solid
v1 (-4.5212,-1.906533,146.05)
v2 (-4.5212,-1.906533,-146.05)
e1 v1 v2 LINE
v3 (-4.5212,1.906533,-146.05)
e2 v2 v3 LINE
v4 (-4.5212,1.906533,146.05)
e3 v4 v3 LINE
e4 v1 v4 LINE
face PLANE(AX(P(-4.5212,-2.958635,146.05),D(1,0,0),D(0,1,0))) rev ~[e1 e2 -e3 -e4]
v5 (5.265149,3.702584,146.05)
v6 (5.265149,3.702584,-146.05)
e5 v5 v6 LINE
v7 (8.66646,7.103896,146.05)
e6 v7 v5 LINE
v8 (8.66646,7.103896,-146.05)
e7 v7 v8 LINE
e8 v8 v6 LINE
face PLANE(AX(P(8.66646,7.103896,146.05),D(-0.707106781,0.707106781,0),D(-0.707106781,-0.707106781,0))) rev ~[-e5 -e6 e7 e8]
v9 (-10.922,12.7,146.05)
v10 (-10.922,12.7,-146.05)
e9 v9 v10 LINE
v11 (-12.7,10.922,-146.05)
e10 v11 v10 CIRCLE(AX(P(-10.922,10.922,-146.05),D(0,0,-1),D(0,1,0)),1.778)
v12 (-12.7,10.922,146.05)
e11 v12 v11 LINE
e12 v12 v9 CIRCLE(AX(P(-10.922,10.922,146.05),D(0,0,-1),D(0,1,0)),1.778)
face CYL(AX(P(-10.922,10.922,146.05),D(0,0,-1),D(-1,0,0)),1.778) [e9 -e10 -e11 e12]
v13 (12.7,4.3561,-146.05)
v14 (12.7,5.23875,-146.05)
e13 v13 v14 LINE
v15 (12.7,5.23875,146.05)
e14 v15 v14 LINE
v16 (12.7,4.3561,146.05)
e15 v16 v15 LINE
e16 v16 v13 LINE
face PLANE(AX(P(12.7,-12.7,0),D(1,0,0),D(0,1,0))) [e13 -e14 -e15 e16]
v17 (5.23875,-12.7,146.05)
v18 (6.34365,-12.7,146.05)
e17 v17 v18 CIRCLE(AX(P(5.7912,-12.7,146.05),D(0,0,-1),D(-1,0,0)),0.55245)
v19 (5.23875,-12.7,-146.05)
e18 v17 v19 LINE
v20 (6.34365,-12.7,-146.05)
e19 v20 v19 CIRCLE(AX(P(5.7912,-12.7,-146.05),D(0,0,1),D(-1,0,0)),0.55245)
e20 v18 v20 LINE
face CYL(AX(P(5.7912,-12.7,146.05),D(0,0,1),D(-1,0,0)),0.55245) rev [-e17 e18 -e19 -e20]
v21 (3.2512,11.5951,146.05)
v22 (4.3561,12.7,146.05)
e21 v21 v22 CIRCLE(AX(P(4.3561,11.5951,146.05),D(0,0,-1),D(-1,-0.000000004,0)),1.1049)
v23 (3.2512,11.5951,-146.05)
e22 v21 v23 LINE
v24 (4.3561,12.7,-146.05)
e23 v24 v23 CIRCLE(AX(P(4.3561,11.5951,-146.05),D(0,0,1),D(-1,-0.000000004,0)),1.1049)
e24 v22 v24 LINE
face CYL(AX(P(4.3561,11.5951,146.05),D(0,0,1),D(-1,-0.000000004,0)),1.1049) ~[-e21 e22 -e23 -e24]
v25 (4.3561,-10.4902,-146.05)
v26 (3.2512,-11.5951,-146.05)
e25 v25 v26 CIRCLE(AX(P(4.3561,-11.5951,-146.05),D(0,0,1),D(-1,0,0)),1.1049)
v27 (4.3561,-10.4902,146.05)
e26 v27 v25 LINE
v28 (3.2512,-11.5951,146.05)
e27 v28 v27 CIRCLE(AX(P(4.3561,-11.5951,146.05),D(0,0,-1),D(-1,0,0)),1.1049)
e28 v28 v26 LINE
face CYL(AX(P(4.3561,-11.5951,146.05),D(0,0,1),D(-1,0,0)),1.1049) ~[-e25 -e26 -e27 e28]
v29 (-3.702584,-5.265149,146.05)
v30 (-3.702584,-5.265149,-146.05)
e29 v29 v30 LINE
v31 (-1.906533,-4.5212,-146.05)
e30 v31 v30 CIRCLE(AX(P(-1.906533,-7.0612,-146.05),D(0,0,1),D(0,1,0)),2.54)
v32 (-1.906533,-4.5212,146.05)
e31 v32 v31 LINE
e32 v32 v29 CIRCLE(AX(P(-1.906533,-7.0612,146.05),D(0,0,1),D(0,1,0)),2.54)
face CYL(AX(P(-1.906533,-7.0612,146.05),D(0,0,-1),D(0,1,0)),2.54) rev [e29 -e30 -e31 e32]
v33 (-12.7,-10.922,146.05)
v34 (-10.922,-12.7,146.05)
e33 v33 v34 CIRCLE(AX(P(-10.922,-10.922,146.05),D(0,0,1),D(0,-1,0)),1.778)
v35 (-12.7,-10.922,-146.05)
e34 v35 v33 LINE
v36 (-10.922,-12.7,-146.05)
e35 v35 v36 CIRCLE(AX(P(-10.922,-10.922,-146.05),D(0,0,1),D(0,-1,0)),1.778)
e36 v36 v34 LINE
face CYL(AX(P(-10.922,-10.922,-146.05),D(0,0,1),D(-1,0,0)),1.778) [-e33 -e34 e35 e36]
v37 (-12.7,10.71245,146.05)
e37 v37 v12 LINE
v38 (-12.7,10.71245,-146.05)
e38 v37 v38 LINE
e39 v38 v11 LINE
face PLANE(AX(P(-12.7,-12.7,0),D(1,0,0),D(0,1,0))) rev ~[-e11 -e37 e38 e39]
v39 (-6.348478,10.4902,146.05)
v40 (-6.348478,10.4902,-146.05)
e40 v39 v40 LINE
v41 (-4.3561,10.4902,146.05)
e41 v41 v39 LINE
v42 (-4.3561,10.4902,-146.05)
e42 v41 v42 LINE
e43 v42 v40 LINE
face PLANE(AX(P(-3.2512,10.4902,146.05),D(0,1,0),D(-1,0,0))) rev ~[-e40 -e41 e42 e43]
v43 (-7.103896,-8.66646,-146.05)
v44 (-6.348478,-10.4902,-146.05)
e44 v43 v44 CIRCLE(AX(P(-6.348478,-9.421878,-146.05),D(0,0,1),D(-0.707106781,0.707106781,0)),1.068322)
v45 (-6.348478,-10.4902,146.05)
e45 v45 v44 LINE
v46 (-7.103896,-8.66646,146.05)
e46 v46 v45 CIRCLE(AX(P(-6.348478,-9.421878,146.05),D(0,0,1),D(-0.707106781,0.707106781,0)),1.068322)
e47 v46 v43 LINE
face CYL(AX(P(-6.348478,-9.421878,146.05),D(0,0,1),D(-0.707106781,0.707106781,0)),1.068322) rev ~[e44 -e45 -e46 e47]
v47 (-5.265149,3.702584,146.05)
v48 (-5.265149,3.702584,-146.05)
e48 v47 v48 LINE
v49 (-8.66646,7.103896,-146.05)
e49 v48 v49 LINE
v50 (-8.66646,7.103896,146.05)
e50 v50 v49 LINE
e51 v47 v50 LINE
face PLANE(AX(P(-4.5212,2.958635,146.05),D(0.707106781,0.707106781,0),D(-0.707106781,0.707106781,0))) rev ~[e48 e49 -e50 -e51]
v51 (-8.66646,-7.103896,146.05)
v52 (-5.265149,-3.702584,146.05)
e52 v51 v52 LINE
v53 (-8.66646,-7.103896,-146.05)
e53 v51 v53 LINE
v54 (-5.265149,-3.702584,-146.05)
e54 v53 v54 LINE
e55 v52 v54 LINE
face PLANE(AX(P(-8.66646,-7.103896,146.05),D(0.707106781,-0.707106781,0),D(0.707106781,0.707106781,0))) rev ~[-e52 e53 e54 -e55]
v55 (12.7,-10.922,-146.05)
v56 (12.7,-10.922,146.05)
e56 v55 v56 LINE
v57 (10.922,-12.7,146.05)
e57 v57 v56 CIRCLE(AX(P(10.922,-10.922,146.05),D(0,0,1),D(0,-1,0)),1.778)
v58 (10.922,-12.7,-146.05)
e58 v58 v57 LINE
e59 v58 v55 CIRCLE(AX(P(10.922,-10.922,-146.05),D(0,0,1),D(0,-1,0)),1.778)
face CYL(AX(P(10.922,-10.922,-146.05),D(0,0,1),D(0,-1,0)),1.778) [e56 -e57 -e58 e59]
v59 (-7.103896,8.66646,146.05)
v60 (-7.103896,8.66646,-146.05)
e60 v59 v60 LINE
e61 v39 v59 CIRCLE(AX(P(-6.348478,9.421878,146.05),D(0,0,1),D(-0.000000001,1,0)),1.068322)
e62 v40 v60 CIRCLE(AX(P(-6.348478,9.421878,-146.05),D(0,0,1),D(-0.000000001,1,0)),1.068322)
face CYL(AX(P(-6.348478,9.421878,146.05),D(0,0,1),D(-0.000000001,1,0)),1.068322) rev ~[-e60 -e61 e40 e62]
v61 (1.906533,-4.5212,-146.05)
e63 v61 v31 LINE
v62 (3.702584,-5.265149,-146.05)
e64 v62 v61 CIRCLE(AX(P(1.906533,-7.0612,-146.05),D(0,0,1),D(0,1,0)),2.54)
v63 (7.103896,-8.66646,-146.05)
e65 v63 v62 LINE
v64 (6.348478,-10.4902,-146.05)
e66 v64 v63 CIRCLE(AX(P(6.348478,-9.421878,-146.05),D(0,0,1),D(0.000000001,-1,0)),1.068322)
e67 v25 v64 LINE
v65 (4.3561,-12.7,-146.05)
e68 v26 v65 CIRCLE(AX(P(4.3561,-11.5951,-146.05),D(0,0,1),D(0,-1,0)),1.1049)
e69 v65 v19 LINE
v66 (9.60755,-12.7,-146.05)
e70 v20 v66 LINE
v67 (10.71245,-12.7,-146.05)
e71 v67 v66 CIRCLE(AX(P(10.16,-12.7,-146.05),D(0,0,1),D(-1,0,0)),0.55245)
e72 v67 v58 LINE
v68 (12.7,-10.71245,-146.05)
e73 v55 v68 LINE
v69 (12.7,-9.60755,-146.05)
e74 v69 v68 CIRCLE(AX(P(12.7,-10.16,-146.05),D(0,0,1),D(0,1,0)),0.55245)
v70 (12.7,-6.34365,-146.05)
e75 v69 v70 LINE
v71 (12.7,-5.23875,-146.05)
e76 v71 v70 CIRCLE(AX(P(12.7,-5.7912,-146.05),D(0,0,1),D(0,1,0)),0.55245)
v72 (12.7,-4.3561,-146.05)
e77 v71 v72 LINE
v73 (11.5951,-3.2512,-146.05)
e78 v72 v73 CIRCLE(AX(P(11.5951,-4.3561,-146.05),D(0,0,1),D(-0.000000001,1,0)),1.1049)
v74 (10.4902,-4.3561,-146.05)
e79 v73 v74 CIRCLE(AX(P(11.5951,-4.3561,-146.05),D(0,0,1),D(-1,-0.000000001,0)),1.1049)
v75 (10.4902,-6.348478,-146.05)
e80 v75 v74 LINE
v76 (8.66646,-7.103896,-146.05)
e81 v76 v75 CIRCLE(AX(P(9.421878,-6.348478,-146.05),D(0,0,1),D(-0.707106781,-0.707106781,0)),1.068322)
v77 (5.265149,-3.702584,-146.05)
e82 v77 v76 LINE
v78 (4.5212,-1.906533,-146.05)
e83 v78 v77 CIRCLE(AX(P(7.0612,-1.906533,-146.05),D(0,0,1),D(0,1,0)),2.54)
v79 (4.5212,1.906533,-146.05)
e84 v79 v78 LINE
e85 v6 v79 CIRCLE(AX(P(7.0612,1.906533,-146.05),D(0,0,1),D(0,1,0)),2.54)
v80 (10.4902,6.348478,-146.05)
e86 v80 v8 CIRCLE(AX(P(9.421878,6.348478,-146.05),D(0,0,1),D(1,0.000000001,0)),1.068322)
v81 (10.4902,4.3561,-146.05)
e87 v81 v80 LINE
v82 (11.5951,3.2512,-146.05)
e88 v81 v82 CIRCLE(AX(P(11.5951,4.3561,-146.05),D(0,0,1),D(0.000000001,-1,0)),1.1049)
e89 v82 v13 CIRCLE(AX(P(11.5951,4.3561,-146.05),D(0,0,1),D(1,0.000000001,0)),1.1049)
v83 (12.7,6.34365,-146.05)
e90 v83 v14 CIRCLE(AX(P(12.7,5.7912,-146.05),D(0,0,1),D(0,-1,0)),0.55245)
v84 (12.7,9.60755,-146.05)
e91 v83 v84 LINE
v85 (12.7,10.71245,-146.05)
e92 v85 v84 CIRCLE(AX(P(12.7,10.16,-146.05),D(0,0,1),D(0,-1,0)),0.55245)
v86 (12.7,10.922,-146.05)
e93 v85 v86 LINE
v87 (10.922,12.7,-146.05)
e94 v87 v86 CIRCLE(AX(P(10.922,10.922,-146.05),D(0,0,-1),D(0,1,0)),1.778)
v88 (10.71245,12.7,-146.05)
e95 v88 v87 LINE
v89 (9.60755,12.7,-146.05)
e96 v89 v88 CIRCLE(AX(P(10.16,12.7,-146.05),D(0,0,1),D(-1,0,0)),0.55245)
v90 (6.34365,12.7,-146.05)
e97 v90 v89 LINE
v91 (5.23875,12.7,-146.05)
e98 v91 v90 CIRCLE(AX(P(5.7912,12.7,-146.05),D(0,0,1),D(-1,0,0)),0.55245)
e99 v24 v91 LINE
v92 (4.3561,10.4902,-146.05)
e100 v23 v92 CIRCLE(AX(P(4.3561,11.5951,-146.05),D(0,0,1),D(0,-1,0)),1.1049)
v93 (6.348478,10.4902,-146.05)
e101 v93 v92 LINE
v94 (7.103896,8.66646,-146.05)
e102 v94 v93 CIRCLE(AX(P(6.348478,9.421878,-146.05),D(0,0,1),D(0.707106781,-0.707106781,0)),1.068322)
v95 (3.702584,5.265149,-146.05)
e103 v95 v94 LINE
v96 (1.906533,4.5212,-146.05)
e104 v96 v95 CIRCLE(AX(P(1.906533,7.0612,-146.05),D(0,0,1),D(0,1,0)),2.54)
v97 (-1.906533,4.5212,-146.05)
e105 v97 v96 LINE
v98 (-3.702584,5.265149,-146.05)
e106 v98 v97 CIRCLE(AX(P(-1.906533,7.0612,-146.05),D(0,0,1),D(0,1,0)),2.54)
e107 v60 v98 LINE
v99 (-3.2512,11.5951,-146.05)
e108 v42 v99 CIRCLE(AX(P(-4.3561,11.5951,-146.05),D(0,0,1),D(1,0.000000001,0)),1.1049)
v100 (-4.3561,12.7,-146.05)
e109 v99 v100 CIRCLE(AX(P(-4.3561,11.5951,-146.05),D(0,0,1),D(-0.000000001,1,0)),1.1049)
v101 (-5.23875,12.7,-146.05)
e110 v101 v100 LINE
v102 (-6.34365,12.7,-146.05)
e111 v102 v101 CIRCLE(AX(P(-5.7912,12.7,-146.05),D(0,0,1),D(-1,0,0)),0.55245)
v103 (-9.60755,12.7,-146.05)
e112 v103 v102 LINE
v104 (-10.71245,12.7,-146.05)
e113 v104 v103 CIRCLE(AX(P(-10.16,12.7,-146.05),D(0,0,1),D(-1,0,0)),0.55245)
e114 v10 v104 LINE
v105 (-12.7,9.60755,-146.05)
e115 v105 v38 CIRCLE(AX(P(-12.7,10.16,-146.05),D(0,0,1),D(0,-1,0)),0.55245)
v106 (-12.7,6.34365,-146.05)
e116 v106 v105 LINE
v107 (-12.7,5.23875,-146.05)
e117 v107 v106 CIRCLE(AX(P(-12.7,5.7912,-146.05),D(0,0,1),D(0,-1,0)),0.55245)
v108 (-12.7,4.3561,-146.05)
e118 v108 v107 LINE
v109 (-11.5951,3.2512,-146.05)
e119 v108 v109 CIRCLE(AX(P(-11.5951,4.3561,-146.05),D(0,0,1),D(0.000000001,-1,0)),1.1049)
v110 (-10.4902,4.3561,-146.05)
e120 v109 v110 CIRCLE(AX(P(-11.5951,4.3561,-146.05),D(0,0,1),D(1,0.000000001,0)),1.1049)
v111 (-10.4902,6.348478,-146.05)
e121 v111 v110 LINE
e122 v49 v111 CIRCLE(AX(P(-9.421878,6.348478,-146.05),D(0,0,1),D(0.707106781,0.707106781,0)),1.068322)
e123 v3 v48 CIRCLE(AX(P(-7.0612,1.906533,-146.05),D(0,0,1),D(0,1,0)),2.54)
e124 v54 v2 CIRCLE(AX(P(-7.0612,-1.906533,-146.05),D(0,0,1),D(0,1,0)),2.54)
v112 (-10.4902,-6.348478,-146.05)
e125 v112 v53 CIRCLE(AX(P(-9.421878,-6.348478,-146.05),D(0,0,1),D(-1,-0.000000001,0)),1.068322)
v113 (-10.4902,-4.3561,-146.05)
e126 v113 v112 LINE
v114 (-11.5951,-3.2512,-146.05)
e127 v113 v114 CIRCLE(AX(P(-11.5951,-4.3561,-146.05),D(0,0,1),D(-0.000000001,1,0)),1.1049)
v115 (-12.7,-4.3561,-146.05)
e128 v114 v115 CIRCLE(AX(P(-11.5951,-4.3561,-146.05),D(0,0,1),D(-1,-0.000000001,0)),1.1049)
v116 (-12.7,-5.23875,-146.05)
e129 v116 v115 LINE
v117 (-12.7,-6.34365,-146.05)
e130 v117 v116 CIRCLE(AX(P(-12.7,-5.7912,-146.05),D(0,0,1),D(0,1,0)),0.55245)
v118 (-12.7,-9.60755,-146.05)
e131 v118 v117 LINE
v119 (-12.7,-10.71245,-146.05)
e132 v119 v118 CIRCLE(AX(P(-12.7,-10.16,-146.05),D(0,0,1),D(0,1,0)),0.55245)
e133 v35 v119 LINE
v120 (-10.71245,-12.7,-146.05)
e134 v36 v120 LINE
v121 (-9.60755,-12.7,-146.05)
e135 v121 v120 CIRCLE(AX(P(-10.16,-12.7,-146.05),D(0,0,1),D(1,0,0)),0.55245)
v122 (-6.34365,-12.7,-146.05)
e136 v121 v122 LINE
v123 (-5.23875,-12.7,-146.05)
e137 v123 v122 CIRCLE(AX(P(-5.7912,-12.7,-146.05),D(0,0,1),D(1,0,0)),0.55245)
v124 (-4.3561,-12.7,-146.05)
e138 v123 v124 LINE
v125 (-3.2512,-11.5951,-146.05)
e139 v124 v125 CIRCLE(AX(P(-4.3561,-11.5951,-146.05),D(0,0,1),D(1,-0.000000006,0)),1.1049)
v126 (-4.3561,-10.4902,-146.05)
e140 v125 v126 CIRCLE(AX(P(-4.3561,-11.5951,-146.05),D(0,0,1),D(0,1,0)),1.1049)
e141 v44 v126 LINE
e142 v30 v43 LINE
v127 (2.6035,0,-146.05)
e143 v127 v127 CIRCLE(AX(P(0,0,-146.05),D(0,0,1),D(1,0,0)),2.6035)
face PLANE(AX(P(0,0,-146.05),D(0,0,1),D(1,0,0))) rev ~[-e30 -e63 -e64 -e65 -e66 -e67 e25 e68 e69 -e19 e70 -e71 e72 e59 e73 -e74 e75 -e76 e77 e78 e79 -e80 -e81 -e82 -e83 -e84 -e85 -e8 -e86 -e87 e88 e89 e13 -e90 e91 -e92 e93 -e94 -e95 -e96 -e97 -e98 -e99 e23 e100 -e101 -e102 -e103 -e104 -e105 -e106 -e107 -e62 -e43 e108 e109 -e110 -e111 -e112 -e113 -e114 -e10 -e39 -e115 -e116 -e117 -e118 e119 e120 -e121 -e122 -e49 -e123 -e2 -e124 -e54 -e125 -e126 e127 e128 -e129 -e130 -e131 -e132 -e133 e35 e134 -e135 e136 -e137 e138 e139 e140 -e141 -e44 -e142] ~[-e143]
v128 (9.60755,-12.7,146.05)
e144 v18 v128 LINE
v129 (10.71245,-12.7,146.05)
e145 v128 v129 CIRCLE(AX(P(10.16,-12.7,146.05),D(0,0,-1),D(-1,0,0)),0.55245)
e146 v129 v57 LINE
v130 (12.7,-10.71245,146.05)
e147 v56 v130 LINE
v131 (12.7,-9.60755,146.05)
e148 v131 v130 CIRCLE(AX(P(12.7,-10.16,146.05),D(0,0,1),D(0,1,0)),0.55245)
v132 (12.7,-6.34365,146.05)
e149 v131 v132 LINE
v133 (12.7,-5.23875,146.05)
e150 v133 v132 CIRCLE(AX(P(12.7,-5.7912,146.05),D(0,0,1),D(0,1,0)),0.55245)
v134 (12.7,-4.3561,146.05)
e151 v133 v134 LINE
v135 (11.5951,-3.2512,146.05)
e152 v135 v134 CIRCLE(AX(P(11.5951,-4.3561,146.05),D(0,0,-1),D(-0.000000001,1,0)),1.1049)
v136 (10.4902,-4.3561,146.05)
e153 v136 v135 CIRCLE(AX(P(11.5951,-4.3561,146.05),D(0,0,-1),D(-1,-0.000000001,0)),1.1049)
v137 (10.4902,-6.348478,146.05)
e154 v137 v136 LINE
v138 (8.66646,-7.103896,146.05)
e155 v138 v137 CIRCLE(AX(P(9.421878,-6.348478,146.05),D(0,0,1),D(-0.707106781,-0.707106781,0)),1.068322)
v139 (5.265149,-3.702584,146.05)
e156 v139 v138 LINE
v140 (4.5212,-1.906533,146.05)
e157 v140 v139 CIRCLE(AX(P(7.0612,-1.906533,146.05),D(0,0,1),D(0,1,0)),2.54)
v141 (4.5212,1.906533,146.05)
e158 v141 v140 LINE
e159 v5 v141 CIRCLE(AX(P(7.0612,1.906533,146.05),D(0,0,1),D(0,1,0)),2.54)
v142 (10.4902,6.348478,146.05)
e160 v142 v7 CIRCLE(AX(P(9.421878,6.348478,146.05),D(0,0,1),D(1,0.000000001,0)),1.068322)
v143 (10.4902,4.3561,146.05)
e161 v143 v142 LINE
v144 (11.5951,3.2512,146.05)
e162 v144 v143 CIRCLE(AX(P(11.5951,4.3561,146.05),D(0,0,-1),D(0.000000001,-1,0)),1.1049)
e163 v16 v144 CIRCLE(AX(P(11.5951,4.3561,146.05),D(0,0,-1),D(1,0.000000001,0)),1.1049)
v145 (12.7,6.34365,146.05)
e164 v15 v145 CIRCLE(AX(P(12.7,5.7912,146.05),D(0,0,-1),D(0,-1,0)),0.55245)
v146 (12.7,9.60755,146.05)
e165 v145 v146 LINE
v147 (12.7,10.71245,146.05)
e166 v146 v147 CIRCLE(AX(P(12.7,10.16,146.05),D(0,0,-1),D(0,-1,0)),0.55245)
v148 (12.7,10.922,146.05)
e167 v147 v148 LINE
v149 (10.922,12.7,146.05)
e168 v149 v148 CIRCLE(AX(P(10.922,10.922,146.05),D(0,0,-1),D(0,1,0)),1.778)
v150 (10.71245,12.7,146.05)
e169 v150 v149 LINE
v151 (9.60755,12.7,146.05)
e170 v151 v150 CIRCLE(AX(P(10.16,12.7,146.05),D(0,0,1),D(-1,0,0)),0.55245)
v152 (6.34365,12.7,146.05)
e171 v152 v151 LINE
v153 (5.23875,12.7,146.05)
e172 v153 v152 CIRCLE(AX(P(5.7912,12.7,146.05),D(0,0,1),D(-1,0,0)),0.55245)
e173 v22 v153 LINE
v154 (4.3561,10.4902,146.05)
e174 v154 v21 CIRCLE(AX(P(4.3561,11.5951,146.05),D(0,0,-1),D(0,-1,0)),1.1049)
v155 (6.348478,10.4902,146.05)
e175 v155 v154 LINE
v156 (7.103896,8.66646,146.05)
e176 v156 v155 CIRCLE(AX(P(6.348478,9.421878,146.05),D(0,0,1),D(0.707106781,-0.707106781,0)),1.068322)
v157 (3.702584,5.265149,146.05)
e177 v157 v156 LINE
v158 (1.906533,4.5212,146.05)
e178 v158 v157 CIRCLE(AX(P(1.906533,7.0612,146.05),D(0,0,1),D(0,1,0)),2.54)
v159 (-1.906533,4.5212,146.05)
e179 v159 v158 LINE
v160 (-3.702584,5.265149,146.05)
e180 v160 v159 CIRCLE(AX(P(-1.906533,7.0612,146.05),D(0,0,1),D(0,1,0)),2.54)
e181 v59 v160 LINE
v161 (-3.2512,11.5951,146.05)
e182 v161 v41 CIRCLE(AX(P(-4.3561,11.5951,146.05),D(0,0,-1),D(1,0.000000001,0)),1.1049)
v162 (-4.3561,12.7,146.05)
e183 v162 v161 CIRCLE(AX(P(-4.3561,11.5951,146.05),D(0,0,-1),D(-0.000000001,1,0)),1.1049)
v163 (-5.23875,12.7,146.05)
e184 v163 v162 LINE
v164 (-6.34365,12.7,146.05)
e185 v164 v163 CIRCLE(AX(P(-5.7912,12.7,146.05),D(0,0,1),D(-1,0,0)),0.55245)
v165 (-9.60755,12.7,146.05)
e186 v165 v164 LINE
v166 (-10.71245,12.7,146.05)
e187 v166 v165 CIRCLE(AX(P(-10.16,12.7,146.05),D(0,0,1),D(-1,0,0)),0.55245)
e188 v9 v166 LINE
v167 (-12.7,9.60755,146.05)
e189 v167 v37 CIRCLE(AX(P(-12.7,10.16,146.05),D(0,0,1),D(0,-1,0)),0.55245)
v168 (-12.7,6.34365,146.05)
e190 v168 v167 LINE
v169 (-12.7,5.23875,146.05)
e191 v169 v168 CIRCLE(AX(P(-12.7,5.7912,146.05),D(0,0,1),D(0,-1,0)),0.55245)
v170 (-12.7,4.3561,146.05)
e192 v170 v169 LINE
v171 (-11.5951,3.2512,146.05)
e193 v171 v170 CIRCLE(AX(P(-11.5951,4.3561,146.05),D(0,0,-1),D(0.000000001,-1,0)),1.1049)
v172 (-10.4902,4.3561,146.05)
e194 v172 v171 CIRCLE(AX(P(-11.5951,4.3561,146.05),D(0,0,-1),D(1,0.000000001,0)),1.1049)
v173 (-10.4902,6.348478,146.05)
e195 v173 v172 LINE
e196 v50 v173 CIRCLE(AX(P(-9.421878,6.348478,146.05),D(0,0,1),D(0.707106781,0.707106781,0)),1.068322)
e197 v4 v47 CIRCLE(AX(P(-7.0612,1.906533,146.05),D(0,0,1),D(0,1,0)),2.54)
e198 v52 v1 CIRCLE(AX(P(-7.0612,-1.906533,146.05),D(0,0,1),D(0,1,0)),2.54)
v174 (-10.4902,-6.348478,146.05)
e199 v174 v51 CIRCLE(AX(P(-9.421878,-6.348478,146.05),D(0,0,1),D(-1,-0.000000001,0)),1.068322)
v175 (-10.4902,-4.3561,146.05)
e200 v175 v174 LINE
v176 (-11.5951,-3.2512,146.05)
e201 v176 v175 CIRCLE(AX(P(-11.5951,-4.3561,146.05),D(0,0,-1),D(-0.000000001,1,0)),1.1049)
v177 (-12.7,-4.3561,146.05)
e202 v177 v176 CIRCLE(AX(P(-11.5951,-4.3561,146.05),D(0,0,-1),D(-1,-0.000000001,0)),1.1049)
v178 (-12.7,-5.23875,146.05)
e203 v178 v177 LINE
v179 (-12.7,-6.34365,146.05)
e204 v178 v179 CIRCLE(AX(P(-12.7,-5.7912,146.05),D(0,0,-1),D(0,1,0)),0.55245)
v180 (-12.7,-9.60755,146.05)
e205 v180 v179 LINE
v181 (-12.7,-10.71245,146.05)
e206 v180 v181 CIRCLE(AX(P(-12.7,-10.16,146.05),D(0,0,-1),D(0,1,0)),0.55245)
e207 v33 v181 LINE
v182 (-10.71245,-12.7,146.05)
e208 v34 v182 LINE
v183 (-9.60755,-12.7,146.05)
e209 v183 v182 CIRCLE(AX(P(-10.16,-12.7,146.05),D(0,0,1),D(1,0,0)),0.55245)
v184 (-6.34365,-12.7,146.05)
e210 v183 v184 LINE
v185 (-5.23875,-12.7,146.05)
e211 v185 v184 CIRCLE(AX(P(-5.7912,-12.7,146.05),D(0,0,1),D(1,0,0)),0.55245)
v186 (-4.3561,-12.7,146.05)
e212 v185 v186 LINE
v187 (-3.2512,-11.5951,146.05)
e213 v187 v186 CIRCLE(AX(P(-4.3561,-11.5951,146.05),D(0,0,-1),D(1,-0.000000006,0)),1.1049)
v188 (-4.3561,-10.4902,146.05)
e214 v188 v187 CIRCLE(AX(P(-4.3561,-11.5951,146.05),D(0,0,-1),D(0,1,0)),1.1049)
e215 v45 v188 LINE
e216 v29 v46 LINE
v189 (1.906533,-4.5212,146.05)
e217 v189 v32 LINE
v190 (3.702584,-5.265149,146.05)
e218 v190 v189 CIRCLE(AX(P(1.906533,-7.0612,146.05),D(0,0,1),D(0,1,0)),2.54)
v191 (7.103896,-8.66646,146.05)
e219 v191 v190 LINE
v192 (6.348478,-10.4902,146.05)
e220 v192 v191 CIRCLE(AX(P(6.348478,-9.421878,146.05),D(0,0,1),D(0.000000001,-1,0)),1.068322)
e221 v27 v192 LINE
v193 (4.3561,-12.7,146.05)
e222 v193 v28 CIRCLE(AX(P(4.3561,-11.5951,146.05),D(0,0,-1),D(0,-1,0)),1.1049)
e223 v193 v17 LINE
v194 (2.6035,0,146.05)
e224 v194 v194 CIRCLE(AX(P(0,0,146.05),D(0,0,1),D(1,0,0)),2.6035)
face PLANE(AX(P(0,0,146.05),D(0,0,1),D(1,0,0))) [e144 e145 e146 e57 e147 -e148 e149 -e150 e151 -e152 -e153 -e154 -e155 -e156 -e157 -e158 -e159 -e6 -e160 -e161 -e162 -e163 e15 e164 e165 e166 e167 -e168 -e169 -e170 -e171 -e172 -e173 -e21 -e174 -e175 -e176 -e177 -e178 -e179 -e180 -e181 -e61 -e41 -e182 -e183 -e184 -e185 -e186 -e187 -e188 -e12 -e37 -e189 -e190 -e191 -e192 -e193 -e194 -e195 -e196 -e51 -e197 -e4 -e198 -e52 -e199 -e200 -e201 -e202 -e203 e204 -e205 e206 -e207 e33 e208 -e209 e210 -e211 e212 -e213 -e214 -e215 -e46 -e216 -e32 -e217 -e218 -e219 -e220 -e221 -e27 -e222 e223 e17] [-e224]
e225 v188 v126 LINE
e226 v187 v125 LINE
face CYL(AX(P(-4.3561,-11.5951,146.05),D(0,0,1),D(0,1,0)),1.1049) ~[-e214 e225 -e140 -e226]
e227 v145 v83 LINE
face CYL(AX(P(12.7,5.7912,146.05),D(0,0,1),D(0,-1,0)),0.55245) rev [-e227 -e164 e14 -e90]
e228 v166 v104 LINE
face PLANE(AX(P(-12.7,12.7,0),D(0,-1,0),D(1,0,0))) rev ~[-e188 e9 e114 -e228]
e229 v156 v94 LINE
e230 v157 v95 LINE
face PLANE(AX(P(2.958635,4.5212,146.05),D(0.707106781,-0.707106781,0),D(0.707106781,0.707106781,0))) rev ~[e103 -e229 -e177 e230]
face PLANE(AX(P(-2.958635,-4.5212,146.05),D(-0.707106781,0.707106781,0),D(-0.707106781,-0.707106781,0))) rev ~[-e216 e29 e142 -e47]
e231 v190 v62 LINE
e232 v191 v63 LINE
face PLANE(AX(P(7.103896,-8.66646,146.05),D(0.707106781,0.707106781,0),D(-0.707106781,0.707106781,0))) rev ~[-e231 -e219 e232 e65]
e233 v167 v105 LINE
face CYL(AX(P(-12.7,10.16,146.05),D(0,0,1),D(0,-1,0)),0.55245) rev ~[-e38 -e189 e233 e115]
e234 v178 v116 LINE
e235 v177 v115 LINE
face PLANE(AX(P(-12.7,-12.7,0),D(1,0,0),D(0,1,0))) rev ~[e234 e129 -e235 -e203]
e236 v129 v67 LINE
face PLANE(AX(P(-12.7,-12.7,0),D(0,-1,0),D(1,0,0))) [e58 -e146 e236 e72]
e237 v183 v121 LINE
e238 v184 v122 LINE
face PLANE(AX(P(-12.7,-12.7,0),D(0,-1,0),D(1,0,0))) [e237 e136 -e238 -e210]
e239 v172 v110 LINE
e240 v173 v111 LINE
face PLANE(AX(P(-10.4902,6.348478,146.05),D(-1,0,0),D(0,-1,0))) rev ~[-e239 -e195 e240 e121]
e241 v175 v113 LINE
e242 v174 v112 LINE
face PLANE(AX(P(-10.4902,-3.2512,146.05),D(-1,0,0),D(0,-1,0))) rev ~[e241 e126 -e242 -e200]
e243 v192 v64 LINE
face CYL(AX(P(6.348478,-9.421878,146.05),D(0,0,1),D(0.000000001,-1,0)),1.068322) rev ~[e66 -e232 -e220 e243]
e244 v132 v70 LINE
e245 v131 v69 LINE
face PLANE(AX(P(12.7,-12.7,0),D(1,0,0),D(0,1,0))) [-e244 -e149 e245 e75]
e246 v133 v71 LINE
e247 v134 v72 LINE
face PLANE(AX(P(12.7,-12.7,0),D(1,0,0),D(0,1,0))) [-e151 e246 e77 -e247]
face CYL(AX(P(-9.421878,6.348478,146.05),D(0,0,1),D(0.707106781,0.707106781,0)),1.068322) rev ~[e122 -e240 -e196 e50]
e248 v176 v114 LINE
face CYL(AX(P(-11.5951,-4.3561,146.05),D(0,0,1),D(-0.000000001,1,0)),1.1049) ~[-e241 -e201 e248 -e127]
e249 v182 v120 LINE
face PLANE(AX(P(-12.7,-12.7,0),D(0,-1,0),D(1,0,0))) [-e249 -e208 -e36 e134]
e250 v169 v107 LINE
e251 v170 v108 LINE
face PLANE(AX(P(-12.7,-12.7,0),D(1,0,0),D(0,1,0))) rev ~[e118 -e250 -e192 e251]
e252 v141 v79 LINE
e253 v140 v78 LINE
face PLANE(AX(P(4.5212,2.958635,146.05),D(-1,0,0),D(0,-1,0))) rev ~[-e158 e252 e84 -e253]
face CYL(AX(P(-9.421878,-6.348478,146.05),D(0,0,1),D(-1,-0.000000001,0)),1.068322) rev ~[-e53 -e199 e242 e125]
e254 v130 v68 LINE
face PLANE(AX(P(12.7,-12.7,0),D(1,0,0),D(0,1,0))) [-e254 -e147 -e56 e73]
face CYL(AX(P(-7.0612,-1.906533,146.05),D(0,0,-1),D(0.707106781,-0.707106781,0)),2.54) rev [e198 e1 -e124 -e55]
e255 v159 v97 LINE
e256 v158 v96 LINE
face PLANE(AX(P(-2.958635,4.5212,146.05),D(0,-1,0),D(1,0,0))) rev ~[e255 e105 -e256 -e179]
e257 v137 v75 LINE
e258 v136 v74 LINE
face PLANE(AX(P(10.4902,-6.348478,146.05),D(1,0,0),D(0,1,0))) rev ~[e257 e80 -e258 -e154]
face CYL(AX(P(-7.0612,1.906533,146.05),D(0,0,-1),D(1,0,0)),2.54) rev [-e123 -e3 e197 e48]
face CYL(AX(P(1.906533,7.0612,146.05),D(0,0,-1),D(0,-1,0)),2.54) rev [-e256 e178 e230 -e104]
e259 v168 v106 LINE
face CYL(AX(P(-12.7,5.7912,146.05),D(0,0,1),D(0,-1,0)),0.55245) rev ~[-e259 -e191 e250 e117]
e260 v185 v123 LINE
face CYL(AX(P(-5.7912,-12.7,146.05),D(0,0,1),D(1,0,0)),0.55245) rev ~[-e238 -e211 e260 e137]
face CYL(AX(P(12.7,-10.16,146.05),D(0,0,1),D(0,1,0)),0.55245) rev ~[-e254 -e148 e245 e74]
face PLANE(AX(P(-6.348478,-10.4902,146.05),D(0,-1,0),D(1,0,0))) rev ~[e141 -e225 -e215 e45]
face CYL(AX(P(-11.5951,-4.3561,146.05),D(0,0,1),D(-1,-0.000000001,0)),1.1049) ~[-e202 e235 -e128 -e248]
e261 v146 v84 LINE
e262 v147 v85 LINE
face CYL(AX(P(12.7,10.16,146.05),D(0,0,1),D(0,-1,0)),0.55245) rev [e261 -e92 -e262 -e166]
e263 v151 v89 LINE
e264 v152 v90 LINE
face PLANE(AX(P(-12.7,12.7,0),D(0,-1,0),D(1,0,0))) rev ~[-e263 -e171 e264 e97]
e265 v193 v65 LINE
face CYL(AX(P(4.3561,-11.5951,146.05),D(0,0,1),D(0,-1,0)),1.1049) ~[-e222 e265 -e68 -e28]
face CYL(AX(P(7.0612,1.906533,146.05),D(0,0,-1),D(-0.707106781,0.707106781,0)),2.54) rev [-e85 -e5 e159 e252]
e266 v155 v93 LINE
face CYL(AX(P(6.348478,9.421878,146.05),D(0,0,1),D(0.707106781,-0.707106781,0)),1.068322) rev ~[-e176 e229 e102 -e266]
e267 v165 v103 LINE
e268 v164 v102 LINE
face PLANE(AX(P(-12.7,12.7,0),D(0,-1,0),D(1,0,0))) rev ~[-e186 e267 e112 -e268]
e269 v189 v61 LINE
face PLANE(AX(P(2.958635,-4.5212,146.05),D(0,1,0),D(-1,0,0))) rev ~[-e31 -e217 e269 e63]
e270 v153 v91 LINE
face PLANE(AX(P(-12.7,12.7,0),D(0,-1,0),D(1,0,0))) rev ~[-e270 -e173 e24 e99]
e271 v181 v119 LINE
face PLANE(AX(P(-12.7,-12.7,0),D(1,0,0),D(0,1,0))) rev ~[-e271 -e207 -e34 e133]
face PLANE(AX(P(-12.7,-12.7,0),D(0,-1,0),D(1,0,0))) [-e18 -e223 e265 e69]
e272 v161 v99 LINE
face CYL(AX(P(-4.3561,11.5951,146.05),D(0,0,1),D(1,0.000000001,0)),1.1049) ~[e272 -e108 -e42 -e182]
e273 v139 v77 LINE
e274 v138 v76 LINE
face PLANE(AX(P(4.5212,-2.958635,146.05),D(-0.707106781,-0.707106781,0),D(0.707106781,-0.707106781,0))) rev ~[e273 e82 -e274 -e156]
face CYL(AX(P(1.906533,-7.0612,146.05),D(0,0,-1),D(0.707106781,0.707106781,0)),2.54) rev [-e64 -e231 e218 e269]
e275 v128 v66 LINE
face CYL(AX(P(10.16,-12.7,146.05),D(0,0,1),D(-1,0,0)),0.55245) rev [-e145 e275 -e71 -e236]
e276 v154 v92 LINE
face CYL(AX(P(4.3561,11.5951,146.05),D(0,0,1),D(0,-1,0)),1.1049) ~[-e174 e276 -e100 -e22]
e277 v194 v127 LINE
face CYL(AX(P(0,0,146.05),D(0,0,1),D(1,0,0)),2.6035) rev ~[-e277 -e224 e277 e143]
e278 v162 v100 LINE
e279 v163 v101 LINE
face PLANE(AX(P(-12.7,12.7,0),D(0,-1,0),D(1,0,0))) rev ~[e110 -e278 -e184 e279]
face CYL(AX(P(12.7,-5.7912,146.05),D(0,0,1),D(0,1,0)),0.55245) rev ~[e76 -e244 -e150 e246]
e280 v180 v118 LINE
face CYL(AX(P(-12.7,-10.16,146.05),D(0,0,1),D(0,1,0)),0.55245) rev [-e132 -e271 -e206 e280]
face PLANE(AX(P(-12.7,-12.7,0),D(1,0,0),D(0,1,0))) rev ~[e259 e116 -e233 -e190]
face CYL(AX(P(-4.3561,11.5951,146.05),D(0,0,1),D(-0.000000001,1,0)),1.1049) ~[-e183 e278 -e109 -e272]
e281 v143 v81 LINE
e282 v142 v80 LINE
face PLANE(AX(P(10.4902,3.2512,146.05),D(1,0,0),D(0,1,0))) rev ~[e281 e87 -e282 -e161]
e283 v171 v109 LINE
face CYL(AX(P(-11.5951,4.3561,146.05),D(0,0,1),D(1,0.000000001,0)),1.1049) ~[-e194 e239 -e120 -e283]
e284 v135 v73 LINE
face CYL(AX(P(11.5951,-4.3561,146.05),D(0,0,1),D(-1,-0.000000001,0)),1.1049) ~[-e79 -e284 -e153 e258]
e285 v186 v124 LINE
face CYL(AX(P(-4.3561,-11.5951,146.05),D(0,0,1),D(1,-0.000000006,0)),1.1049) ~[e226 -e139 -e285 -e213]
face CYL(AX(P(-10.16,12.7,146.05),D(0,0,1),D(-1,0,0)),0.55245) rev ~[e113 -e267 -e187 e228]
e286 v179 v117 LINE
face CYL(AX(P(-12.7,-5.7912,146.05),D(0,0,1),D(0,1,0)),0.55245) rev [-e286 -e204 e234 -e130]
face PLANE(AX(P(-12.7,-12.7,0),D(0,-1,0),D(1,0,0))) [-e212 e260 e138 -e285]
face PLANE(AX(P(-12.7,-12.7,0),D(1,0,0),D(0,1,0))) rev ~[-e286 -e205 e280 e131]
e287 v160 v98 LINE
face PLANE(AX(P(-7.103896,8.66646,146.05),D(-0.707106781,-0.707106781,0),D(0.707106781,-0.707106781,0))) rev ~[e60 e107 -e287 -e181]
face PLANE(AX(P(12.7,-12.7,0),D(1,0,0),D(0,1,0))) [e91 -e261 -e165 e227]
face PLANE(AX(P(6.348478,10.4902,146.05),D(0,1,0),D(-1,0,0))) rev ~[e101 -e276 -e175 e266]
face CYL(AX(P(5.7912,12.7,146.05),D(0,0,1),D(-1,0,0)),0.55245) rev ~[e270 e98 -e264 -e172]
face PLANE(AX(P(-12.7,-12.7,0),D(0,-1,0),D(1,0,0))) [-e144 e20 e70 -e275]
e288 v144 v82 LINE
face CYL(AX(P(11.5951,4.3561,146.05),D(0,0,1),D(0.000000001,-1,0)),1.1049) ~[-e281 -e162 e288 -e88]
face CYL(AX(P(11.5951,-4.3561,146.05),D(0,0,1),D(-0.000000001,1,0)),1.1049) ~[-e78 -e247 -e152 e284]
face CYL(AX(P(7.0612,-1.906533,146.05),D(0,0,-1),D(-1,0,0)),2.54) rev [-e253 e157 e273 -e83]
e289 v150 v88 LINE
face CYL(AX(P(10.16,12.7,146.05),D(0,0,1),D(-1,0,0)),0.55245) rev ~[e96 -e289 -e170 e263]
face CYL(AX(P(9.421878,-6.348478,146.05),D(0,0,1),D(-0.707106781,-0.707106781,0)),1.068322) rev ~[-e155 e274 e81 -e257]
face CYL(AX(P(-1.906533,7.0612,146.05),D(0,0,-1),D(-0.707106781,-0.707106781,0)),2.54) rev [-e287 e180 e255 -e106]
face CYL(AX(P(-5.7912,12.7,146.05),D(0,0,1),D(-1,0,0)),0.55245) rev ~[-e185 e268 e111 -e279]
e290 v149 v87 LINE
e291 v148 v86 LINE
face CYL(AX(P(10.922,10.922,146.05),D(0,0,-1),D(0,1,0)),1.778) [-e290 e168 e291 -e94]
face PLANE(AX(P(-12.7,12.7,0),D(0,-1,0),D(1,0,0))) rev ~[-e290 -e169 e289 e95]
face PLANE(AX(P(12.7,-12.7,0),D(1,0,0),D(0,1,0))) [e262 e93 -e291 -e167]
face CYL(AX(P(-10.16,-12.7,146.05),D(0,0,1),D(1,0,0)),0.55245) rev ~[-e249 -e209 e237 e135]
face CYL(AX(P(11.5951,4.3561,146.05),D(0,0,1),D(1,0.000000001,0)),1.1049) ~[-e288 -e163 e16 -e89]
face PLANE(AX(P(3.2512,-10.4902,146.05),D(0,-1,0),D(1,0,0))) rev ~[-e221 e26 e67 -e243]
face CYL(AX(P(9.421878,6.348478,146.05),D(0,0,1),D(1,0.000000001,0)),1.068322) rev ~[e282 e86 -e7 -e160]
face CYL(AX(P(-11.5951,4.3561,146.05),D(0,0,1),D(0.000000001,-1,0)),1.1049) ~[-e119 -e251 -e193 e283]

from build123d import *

# Parameters (mm, degrees)
SKETCH3_W                = 25.4
SKETCH3_H                = 25.4
BOSS_EXTRUDE1_DEPTH      = 146.05
BOSS_EXTRUDE1_DEPTH_BACK = 146.05
SKETCH4_R                = 2.6035
CUT_EXTRUDE1_DEPTH       = 293.1
CUT_EXTRUDE2_DEPTH       = 293.1
FILLET1_R                = 2.54
FILLET2_R                = 1.778


with BuildPart() as part:
    # Sketch3 → Boss-Extrude1 (new body, two sides)
    with BuildSketch(Plane.XY) as boss_extrude1_sk:
        Rectangle(SKETCH3_W, SKETCH3_H)
    extrude(amount=BOSS_EXTRUDE1_DEPTH)
    extrude(boss_extrude1_sk.sketch, amount=-BOSS_EXTRUDE1_DEPTH_BACK)

    # Sketch4 → Cut-Extrude1 (cut, through all)
    with BuildSketch(Plane.XY.offset(146.05)):
        with BuildLine():
            Line((3.2512, 12.7), (-3.2512, 12.7))
            Line((-3.2512, 12.7), (-3.2512, 10.4902))
            Line((-3.2512, 10.4902), (-6.348478019, 10.4902))
            ThreePointArc((-6.348478019, 10.4902), (-7.335478831, 9.830707141), (-7.103895736, 8.666460301))
            Line((-7.103895736, 8.666460301), (-2.958635435, 4.5212))
            Line((-2.958635435, 4.5212), (2.958635435, 4.5212))
            Line((2.958635435, 4.5212), (7.103895736, 8.666460301))
            ThreePointArc((7.103895736, 8.666460301), (7.335478831, 9.830707141), (6.348478019, 10.4902))
            Line((6.348478019, 10.4902), (3.2512, 10.4902))
            Line((3.2512, 10.4902), (3.2512, 12.7))
        make_face()
        with BuildLine():
            Line((12.7, -3.2512), (12.7, 3.2512))
            Line((12.7, 3.2512), (10.4902, 3.2512))
            Line((10.4902, 3.2512), (10.4902, 6.348478019))
            ThreePointArc((10.4902, 6.348478019), (9.830707141, 7.335478831), (8.666460301, 7.103895736))
            Line((8.666460301, 7.103895736), (4.5212, 2.958635435))
            Line((4.5212, 2.958635435), (4.5212, -2.958635435))
            Line((4.5212, -2.958635435), (8.666460301, -7.103895736))
            ThreePointArc((8.666460301, -7.103895736), (9.830707141, -7.335478831), (10.4902, -6.348478019))
            Line((10.4902, -6.348478019), (10.4902, -3.2512))
            Line((10.4902, -3.2512), (12.7, -3.2512))
        make_face()
        with BuildLine():
            Line((-3.2512, -10.4902), (-3.2512, -12.7))
            Line((-3.2512, -12.7), (3.2512, -12.7))
            Line((3.2512, -12.7), (3.2512, -10.4902))
            Line((3.2512, -10.4902), (6.348478019, -10.4902))
            ThreePointArc((6.348478019, -10.4902), (7.335478831, -9.830707141), (7.103895736, -8.666460301))
            Line((7.103895736, -8.666460301), (2.958635435, -4.5212))
            Line((2.958635435, -4.5212), (-2.958635435, -4.5212))
            Line((-2.958635435, -4.5212), (-7.103895736, -8.666460301))
            ThreePointArc((-7.103895736, -8.666460301), (-7.335478831, -9.830707141), (-6.348478019, -10.4902))
            Line((-6.348478019, -10.4902), (-3.2512, -10.4902))
        make_face()
        with BuildLine():
            Line((-10.4902, 3.2512), (-12.7, 3.2512))
            Line((-12.7, 3.2512), (-12.7, -3.2512))
            Line((-12.7, -3.2512), (-10.4902, -3.2512))
            Line((-10.4902, -3.2512), (-10.4902, -6.348478019))
            ThreePointArc((-10.4902, -6.348478019), (-9.830707141, -7.335478831), (-8.666460301, -7.103895736))
            Line((-8.666460301, -7.103895736), (-4.5212, -2.958635435))
            Line((-4.5212, -2.958635435), (-4.5212, 2.958635435))
            Line((-4.5212, 2.958635435), (-8.666460301, 7.103895736))
            ThreePointArc((-8.666460301, 7.103895736), (-9.830707141, 7.335478831), (-10.4902, 6.348478019))
            Line((-10.4902, 6.348478019), (-10.4902, 3.2512))
        make_face()
        Circle(SKETCH4_R)
    extrude(amount=-CUT_EXTRUDE1_DEPTH, mode=Mode.SUBTRACT)

    # Sketch5 → Cut-Extrude2 (cut, through all)
    with BuildSketch(Plane.XY.offset(146.05)):
        with BuildLine():
            ThreePointArc((-11.5951, 3.2512), (-12.376382283, 3.574817717), (-12.7, 4.3561))
            Line((-12.7, 4.3561), (-12.7, 3.2512))
            Line((-12.7, 3.2512), (-11.5951, 3.2512))
        make_face()
        with BuildLine():
            ThreePointArc((-10.4902, 4.3561), (-10.813817717, 3.574817717), (-11.5951, 3.2512))
            Line((-11.5951, 3.2512), (-10.4902, 3.2512))
            Line((-10.4902, 3.2512), (-10.4902, 4.3561))
        make_face()
        with BuildLine():
            Line((-12.7, -3.2512), (-12.7, -4.3561))
            ThreePointArc((-12.7, -4.3561), (-12.376382283, -3.574817717), (-11.5951, -3.2512))
            Line((-11.5951, -3.2512), (-12.7, -3.2512))
        make_face()
        with BuildLine():
            Line((-10.4902, -3.2512), (-11.5951, -3.2512))
            ThreePointArc((-11.5951, -3.2512), (-10.813817717, -3.574817717), (-10.4902, -4.3561))
            Line((-10.4902, -4.3561), (-10.4902, -3.2512))
        make_face()
        with BuildLine():
            Line((-3.2512, -11.595100007), (-3.2512, -10.4902))
            Line((-3.2512, -10.4902), (-4.3561, -10.4902))
            ThreePointArc((-4.3561, -10.4902), (-3.574817715, -10.81381772), (-3.2512, -11.595100007))
        make_face()
        with BuildLine():
            Line((-3.2512, -12.7), (-3.2512, -11.595100007))
            ThreePointArc((-3.2512, -11.595100007), (-3.57481772, -12.376382285), (-4.3561, -12.7))
            Line((-4.3561, -12.7), (-3.2512, -12.7))
        make_face()
        with BuildLine():
            Line((3.2512, -10.4902), (3.2512, -11.5951))
            ThreePointArc((3.2512, -11.5951), (3.574817718, -10.813817717), (4.3561, -10.4902))
            Line((4.3561, -10.4902), (3.2512, -10.4902))
        make_face()
        with BuildLine():
            Line((3.2512, -12.7), (4.3561, -12.7))
            ThreePointArc((4.3561, -12.7), (3.574817717, -12.376382282), (3.2512, -11.5951))
            Line((3.2512, -11.5951), (3.2512, -12.7))
        make_face()
        with BuildLine():
            Line((11.5951, -3.2512), (10.4902, -3.2512))
            Line((10.4902, -3.2512), (10.4902, -4.3561))
            ThreePointArc((10.4902, -4.3561), (10.813817717, -3.574817717), (11.5951, -3.2512))
        make_face()
        with BuildLine():
            Line((12.7, -3.2512), (11.5951, -3.2512))
            ThreePointArc((11.5951, -3.2512), (12.376382283, -3.574817717), (12.7, -4.3561))
            Line((12.7, -4.3561), (12.7, -3.2512))
        make_face()
        with BuildLine():
            Line((10.4902, 3.2512), (11.5951, 3.2512))
            ThreePointArc((11.5951, 3.2512), (10.813817717, 3.574817717), (10.4902, 4.3561))
            Line((10.4902, 4.3561), (10.4902, 3.2512))
        make_face()
        with BuildLine():
            Line((12.7, 3.2512), (12.7, 4.3561))
            ThreePointArc((12.7, 4.3561), (12.376382283, 3.574817717), (11.5951, 3.2512))
            Line((11.5951, 3.2512), (12.7, 3.2512))
        make_face()
        with BuildLine():
            Line((3.2512, 12.7), (3.2512, 11.595099996))
            ThreePointArc((3.2512, 11.595099996), (3.574817716, 12.376382281), (4.3561, 12.7))
            Line((4.3561, 12.7), (3.2512, 12.7))
        make_face()
        with BuildLine():
            Line((3.2512, 11.595099996), (3.2512, 10.4902))
            Line((3.2512, 10.4902), (4.3561, 10.4902))
            ThreePointArc((4.3561, 10.4902), (3.574817719, 10.813817716), (3.2512, 11.595099996))
        make_face()
        with BuildLine():
            Line((-3.2512, 12.7), (-4.3561, 12.7))
            ThreePointArc((-4.3561, 12.7), (-3.574817717, 12.376382283), (-3.2512, 11.5951))
            Line((-3.2512, 11.5951), (-3.2512, 12.7))
        make_face()
        with BuildLine():
            Line((-3.2512, 10.4902), (-3.2512, 11.5951))
            ThreePointArc((-3.2512, 11.5951), (-3.574817717, 10.813817717), (-4.3561, 10.4902))
            Line((-4.3561, 10.4902), (-3.2512, 10.4902))
        make_face()
        with BuildLine():
            ThreePointArc((-12.7, 5.23875), (-12.14755, 5.7912), (-12.7, 6.34365))
            Line((-12.7, 6.34365), (-12.7, 5.23875))
        make_face()
        with BuildLine():
            ThreePointArc((-12.7, 9.60755), (-12.14755, 10.16), (-12.7, 10.71245))
            Line((-12.7, 10.71245), (-12.7, 9.60755))
        make_face()
        with BuildLine():
            ThreePointArc((-10.71245, 12.7), (-10.16, 12.14755), (-9.60755, 12.7))
            Line((-9.60755, 12.7), (-10.71245, 12.7))
        make_face()
        with BuildLine():
            ThreePointArc((-6.34365, 12.7), (-5.7912, 12.14755), (-5.23875, 12.7))
            Line((-5.23875, 12.7), (-6.34365, 12.7))
        make_face()
        with BuildLine():
            Line((6.34365, 12.7), (5.23875, 12.7))
            ThreePointArc((5.23875, 12.7), (5.7912, 12.14755), (6.34365, 12.7))
        make_face()
        with BuildLine():
            Line((10.71245, 12.7), (9.60755, 12.7))
            ThreePointArc((9.60755, 12.7), (10.16, 12.14755), (10.71245, 12.7))
        make_face()
        with BuildLine():
            Line((12.7, 10.71245), (12.7, 9.60755))
            ThreePointArc((12.7, 9.60755), (12.14755, 10.16), (12.7, 10.71245))
        make_face()
        with BuildLine():
            Line((12.7, 6.34365), (12.7, 5.23875))
            ThreePointArc((12.7, 5.23875), (12.14755, 5.7912), (12.7, 6.34365))
        make_face()
        with BuildLine():
            Line((-12.7, -6.34365), (-12.7, -5.23875))
            ThreePointArc((-12.7, -5.23875), (-12.14755, -5.7912), (-12.7, -6.34365))
        make_face()
        with BuildLine():
            Line((-12.7, -10.71245), (-12.7, -9.60755))
            ThreePointArc((-12.7, -9.60755), (-12.14755, -10.16), (-12.7, -10.71245))
        make_face()
        with BuildLine():
            Line((-10.71245, -12.7), (-9.60755, -12.7))
            ThreePointArc((-9.60755, -12.7), (-10.16, -12.14755), (-10.71245, -12.7))
        make_face()
        with BuildLine():
            Line((-6.34365, -12.7), (-5.23875, -12.7))
            ThreePointArc((-5.23875, -12.7), (-5.7912, -12.14755), (-6.34365, -12.7))
        make_face()
        with BuildLine():
            Line((12.7, -10.71245), (12.7, -9.60755))
            ThreePointArc((12.7, -9.60755), (12.14755, -10.16), (12.7, -10.71245))
        make_face()
        with BuildLine():
            Line((12.7, -6.34365), (12.7, -5.23875))
            ThreePointArc((12.7, -5.23875), (12.14755, -5.7912), (12.7, -6.34365))
        make_face()
        with BuildLine():
            Line((10.71245, -12.7), (9.60755, -12.7))
            ThreePointArc((9.60755, -12.7), (10.16, -12.14755), (10.71245, -12.7))
        make_face()
        with BuildLine():
            Line((6.34365, -12.7), (5.23875, -12.7))
            ThreePointArc((5.23875, -12.7), (5.7912, -12.14755), (6.34365, -12.7))
        make_face()
    extrude(amount=-CUT_EXTRUDE2_DEPTH, mode=Mode.SUBTRACT)

    # Fillet1
    fillet1_edges = [part.edges().sort_by_distance(p)[0] for p in [
        (2.958635435, 4.5212, 0),
        (-2.958635435, 4.5212, 0),
        (-2.958635435, -4.5212, 0),
        (2.958635435, -4.5212, 0),
        (4.5212, -2.958635435, 0),
        (4.5212, 2.958635435, 0),
        (-4.5212, 2.958635435, 0),
        (-4.5212, -2.958635435, 0),
    ]]
    fillet(fillet1_edges, radius=FILLET1_R)

    # Fillet2
    fillet2_edges = [part.edges().sort_by_distance(p)[0] for p in [
        (-12.7, 12.7, 0),
        (12.7, 12.7, 0),
        (12.7, -12.7, 0),
        (-12.7, -12.7, 0),
    ]]
    fillet(fillet2_edges, radius=FILLET2_R)


solid = part.part
